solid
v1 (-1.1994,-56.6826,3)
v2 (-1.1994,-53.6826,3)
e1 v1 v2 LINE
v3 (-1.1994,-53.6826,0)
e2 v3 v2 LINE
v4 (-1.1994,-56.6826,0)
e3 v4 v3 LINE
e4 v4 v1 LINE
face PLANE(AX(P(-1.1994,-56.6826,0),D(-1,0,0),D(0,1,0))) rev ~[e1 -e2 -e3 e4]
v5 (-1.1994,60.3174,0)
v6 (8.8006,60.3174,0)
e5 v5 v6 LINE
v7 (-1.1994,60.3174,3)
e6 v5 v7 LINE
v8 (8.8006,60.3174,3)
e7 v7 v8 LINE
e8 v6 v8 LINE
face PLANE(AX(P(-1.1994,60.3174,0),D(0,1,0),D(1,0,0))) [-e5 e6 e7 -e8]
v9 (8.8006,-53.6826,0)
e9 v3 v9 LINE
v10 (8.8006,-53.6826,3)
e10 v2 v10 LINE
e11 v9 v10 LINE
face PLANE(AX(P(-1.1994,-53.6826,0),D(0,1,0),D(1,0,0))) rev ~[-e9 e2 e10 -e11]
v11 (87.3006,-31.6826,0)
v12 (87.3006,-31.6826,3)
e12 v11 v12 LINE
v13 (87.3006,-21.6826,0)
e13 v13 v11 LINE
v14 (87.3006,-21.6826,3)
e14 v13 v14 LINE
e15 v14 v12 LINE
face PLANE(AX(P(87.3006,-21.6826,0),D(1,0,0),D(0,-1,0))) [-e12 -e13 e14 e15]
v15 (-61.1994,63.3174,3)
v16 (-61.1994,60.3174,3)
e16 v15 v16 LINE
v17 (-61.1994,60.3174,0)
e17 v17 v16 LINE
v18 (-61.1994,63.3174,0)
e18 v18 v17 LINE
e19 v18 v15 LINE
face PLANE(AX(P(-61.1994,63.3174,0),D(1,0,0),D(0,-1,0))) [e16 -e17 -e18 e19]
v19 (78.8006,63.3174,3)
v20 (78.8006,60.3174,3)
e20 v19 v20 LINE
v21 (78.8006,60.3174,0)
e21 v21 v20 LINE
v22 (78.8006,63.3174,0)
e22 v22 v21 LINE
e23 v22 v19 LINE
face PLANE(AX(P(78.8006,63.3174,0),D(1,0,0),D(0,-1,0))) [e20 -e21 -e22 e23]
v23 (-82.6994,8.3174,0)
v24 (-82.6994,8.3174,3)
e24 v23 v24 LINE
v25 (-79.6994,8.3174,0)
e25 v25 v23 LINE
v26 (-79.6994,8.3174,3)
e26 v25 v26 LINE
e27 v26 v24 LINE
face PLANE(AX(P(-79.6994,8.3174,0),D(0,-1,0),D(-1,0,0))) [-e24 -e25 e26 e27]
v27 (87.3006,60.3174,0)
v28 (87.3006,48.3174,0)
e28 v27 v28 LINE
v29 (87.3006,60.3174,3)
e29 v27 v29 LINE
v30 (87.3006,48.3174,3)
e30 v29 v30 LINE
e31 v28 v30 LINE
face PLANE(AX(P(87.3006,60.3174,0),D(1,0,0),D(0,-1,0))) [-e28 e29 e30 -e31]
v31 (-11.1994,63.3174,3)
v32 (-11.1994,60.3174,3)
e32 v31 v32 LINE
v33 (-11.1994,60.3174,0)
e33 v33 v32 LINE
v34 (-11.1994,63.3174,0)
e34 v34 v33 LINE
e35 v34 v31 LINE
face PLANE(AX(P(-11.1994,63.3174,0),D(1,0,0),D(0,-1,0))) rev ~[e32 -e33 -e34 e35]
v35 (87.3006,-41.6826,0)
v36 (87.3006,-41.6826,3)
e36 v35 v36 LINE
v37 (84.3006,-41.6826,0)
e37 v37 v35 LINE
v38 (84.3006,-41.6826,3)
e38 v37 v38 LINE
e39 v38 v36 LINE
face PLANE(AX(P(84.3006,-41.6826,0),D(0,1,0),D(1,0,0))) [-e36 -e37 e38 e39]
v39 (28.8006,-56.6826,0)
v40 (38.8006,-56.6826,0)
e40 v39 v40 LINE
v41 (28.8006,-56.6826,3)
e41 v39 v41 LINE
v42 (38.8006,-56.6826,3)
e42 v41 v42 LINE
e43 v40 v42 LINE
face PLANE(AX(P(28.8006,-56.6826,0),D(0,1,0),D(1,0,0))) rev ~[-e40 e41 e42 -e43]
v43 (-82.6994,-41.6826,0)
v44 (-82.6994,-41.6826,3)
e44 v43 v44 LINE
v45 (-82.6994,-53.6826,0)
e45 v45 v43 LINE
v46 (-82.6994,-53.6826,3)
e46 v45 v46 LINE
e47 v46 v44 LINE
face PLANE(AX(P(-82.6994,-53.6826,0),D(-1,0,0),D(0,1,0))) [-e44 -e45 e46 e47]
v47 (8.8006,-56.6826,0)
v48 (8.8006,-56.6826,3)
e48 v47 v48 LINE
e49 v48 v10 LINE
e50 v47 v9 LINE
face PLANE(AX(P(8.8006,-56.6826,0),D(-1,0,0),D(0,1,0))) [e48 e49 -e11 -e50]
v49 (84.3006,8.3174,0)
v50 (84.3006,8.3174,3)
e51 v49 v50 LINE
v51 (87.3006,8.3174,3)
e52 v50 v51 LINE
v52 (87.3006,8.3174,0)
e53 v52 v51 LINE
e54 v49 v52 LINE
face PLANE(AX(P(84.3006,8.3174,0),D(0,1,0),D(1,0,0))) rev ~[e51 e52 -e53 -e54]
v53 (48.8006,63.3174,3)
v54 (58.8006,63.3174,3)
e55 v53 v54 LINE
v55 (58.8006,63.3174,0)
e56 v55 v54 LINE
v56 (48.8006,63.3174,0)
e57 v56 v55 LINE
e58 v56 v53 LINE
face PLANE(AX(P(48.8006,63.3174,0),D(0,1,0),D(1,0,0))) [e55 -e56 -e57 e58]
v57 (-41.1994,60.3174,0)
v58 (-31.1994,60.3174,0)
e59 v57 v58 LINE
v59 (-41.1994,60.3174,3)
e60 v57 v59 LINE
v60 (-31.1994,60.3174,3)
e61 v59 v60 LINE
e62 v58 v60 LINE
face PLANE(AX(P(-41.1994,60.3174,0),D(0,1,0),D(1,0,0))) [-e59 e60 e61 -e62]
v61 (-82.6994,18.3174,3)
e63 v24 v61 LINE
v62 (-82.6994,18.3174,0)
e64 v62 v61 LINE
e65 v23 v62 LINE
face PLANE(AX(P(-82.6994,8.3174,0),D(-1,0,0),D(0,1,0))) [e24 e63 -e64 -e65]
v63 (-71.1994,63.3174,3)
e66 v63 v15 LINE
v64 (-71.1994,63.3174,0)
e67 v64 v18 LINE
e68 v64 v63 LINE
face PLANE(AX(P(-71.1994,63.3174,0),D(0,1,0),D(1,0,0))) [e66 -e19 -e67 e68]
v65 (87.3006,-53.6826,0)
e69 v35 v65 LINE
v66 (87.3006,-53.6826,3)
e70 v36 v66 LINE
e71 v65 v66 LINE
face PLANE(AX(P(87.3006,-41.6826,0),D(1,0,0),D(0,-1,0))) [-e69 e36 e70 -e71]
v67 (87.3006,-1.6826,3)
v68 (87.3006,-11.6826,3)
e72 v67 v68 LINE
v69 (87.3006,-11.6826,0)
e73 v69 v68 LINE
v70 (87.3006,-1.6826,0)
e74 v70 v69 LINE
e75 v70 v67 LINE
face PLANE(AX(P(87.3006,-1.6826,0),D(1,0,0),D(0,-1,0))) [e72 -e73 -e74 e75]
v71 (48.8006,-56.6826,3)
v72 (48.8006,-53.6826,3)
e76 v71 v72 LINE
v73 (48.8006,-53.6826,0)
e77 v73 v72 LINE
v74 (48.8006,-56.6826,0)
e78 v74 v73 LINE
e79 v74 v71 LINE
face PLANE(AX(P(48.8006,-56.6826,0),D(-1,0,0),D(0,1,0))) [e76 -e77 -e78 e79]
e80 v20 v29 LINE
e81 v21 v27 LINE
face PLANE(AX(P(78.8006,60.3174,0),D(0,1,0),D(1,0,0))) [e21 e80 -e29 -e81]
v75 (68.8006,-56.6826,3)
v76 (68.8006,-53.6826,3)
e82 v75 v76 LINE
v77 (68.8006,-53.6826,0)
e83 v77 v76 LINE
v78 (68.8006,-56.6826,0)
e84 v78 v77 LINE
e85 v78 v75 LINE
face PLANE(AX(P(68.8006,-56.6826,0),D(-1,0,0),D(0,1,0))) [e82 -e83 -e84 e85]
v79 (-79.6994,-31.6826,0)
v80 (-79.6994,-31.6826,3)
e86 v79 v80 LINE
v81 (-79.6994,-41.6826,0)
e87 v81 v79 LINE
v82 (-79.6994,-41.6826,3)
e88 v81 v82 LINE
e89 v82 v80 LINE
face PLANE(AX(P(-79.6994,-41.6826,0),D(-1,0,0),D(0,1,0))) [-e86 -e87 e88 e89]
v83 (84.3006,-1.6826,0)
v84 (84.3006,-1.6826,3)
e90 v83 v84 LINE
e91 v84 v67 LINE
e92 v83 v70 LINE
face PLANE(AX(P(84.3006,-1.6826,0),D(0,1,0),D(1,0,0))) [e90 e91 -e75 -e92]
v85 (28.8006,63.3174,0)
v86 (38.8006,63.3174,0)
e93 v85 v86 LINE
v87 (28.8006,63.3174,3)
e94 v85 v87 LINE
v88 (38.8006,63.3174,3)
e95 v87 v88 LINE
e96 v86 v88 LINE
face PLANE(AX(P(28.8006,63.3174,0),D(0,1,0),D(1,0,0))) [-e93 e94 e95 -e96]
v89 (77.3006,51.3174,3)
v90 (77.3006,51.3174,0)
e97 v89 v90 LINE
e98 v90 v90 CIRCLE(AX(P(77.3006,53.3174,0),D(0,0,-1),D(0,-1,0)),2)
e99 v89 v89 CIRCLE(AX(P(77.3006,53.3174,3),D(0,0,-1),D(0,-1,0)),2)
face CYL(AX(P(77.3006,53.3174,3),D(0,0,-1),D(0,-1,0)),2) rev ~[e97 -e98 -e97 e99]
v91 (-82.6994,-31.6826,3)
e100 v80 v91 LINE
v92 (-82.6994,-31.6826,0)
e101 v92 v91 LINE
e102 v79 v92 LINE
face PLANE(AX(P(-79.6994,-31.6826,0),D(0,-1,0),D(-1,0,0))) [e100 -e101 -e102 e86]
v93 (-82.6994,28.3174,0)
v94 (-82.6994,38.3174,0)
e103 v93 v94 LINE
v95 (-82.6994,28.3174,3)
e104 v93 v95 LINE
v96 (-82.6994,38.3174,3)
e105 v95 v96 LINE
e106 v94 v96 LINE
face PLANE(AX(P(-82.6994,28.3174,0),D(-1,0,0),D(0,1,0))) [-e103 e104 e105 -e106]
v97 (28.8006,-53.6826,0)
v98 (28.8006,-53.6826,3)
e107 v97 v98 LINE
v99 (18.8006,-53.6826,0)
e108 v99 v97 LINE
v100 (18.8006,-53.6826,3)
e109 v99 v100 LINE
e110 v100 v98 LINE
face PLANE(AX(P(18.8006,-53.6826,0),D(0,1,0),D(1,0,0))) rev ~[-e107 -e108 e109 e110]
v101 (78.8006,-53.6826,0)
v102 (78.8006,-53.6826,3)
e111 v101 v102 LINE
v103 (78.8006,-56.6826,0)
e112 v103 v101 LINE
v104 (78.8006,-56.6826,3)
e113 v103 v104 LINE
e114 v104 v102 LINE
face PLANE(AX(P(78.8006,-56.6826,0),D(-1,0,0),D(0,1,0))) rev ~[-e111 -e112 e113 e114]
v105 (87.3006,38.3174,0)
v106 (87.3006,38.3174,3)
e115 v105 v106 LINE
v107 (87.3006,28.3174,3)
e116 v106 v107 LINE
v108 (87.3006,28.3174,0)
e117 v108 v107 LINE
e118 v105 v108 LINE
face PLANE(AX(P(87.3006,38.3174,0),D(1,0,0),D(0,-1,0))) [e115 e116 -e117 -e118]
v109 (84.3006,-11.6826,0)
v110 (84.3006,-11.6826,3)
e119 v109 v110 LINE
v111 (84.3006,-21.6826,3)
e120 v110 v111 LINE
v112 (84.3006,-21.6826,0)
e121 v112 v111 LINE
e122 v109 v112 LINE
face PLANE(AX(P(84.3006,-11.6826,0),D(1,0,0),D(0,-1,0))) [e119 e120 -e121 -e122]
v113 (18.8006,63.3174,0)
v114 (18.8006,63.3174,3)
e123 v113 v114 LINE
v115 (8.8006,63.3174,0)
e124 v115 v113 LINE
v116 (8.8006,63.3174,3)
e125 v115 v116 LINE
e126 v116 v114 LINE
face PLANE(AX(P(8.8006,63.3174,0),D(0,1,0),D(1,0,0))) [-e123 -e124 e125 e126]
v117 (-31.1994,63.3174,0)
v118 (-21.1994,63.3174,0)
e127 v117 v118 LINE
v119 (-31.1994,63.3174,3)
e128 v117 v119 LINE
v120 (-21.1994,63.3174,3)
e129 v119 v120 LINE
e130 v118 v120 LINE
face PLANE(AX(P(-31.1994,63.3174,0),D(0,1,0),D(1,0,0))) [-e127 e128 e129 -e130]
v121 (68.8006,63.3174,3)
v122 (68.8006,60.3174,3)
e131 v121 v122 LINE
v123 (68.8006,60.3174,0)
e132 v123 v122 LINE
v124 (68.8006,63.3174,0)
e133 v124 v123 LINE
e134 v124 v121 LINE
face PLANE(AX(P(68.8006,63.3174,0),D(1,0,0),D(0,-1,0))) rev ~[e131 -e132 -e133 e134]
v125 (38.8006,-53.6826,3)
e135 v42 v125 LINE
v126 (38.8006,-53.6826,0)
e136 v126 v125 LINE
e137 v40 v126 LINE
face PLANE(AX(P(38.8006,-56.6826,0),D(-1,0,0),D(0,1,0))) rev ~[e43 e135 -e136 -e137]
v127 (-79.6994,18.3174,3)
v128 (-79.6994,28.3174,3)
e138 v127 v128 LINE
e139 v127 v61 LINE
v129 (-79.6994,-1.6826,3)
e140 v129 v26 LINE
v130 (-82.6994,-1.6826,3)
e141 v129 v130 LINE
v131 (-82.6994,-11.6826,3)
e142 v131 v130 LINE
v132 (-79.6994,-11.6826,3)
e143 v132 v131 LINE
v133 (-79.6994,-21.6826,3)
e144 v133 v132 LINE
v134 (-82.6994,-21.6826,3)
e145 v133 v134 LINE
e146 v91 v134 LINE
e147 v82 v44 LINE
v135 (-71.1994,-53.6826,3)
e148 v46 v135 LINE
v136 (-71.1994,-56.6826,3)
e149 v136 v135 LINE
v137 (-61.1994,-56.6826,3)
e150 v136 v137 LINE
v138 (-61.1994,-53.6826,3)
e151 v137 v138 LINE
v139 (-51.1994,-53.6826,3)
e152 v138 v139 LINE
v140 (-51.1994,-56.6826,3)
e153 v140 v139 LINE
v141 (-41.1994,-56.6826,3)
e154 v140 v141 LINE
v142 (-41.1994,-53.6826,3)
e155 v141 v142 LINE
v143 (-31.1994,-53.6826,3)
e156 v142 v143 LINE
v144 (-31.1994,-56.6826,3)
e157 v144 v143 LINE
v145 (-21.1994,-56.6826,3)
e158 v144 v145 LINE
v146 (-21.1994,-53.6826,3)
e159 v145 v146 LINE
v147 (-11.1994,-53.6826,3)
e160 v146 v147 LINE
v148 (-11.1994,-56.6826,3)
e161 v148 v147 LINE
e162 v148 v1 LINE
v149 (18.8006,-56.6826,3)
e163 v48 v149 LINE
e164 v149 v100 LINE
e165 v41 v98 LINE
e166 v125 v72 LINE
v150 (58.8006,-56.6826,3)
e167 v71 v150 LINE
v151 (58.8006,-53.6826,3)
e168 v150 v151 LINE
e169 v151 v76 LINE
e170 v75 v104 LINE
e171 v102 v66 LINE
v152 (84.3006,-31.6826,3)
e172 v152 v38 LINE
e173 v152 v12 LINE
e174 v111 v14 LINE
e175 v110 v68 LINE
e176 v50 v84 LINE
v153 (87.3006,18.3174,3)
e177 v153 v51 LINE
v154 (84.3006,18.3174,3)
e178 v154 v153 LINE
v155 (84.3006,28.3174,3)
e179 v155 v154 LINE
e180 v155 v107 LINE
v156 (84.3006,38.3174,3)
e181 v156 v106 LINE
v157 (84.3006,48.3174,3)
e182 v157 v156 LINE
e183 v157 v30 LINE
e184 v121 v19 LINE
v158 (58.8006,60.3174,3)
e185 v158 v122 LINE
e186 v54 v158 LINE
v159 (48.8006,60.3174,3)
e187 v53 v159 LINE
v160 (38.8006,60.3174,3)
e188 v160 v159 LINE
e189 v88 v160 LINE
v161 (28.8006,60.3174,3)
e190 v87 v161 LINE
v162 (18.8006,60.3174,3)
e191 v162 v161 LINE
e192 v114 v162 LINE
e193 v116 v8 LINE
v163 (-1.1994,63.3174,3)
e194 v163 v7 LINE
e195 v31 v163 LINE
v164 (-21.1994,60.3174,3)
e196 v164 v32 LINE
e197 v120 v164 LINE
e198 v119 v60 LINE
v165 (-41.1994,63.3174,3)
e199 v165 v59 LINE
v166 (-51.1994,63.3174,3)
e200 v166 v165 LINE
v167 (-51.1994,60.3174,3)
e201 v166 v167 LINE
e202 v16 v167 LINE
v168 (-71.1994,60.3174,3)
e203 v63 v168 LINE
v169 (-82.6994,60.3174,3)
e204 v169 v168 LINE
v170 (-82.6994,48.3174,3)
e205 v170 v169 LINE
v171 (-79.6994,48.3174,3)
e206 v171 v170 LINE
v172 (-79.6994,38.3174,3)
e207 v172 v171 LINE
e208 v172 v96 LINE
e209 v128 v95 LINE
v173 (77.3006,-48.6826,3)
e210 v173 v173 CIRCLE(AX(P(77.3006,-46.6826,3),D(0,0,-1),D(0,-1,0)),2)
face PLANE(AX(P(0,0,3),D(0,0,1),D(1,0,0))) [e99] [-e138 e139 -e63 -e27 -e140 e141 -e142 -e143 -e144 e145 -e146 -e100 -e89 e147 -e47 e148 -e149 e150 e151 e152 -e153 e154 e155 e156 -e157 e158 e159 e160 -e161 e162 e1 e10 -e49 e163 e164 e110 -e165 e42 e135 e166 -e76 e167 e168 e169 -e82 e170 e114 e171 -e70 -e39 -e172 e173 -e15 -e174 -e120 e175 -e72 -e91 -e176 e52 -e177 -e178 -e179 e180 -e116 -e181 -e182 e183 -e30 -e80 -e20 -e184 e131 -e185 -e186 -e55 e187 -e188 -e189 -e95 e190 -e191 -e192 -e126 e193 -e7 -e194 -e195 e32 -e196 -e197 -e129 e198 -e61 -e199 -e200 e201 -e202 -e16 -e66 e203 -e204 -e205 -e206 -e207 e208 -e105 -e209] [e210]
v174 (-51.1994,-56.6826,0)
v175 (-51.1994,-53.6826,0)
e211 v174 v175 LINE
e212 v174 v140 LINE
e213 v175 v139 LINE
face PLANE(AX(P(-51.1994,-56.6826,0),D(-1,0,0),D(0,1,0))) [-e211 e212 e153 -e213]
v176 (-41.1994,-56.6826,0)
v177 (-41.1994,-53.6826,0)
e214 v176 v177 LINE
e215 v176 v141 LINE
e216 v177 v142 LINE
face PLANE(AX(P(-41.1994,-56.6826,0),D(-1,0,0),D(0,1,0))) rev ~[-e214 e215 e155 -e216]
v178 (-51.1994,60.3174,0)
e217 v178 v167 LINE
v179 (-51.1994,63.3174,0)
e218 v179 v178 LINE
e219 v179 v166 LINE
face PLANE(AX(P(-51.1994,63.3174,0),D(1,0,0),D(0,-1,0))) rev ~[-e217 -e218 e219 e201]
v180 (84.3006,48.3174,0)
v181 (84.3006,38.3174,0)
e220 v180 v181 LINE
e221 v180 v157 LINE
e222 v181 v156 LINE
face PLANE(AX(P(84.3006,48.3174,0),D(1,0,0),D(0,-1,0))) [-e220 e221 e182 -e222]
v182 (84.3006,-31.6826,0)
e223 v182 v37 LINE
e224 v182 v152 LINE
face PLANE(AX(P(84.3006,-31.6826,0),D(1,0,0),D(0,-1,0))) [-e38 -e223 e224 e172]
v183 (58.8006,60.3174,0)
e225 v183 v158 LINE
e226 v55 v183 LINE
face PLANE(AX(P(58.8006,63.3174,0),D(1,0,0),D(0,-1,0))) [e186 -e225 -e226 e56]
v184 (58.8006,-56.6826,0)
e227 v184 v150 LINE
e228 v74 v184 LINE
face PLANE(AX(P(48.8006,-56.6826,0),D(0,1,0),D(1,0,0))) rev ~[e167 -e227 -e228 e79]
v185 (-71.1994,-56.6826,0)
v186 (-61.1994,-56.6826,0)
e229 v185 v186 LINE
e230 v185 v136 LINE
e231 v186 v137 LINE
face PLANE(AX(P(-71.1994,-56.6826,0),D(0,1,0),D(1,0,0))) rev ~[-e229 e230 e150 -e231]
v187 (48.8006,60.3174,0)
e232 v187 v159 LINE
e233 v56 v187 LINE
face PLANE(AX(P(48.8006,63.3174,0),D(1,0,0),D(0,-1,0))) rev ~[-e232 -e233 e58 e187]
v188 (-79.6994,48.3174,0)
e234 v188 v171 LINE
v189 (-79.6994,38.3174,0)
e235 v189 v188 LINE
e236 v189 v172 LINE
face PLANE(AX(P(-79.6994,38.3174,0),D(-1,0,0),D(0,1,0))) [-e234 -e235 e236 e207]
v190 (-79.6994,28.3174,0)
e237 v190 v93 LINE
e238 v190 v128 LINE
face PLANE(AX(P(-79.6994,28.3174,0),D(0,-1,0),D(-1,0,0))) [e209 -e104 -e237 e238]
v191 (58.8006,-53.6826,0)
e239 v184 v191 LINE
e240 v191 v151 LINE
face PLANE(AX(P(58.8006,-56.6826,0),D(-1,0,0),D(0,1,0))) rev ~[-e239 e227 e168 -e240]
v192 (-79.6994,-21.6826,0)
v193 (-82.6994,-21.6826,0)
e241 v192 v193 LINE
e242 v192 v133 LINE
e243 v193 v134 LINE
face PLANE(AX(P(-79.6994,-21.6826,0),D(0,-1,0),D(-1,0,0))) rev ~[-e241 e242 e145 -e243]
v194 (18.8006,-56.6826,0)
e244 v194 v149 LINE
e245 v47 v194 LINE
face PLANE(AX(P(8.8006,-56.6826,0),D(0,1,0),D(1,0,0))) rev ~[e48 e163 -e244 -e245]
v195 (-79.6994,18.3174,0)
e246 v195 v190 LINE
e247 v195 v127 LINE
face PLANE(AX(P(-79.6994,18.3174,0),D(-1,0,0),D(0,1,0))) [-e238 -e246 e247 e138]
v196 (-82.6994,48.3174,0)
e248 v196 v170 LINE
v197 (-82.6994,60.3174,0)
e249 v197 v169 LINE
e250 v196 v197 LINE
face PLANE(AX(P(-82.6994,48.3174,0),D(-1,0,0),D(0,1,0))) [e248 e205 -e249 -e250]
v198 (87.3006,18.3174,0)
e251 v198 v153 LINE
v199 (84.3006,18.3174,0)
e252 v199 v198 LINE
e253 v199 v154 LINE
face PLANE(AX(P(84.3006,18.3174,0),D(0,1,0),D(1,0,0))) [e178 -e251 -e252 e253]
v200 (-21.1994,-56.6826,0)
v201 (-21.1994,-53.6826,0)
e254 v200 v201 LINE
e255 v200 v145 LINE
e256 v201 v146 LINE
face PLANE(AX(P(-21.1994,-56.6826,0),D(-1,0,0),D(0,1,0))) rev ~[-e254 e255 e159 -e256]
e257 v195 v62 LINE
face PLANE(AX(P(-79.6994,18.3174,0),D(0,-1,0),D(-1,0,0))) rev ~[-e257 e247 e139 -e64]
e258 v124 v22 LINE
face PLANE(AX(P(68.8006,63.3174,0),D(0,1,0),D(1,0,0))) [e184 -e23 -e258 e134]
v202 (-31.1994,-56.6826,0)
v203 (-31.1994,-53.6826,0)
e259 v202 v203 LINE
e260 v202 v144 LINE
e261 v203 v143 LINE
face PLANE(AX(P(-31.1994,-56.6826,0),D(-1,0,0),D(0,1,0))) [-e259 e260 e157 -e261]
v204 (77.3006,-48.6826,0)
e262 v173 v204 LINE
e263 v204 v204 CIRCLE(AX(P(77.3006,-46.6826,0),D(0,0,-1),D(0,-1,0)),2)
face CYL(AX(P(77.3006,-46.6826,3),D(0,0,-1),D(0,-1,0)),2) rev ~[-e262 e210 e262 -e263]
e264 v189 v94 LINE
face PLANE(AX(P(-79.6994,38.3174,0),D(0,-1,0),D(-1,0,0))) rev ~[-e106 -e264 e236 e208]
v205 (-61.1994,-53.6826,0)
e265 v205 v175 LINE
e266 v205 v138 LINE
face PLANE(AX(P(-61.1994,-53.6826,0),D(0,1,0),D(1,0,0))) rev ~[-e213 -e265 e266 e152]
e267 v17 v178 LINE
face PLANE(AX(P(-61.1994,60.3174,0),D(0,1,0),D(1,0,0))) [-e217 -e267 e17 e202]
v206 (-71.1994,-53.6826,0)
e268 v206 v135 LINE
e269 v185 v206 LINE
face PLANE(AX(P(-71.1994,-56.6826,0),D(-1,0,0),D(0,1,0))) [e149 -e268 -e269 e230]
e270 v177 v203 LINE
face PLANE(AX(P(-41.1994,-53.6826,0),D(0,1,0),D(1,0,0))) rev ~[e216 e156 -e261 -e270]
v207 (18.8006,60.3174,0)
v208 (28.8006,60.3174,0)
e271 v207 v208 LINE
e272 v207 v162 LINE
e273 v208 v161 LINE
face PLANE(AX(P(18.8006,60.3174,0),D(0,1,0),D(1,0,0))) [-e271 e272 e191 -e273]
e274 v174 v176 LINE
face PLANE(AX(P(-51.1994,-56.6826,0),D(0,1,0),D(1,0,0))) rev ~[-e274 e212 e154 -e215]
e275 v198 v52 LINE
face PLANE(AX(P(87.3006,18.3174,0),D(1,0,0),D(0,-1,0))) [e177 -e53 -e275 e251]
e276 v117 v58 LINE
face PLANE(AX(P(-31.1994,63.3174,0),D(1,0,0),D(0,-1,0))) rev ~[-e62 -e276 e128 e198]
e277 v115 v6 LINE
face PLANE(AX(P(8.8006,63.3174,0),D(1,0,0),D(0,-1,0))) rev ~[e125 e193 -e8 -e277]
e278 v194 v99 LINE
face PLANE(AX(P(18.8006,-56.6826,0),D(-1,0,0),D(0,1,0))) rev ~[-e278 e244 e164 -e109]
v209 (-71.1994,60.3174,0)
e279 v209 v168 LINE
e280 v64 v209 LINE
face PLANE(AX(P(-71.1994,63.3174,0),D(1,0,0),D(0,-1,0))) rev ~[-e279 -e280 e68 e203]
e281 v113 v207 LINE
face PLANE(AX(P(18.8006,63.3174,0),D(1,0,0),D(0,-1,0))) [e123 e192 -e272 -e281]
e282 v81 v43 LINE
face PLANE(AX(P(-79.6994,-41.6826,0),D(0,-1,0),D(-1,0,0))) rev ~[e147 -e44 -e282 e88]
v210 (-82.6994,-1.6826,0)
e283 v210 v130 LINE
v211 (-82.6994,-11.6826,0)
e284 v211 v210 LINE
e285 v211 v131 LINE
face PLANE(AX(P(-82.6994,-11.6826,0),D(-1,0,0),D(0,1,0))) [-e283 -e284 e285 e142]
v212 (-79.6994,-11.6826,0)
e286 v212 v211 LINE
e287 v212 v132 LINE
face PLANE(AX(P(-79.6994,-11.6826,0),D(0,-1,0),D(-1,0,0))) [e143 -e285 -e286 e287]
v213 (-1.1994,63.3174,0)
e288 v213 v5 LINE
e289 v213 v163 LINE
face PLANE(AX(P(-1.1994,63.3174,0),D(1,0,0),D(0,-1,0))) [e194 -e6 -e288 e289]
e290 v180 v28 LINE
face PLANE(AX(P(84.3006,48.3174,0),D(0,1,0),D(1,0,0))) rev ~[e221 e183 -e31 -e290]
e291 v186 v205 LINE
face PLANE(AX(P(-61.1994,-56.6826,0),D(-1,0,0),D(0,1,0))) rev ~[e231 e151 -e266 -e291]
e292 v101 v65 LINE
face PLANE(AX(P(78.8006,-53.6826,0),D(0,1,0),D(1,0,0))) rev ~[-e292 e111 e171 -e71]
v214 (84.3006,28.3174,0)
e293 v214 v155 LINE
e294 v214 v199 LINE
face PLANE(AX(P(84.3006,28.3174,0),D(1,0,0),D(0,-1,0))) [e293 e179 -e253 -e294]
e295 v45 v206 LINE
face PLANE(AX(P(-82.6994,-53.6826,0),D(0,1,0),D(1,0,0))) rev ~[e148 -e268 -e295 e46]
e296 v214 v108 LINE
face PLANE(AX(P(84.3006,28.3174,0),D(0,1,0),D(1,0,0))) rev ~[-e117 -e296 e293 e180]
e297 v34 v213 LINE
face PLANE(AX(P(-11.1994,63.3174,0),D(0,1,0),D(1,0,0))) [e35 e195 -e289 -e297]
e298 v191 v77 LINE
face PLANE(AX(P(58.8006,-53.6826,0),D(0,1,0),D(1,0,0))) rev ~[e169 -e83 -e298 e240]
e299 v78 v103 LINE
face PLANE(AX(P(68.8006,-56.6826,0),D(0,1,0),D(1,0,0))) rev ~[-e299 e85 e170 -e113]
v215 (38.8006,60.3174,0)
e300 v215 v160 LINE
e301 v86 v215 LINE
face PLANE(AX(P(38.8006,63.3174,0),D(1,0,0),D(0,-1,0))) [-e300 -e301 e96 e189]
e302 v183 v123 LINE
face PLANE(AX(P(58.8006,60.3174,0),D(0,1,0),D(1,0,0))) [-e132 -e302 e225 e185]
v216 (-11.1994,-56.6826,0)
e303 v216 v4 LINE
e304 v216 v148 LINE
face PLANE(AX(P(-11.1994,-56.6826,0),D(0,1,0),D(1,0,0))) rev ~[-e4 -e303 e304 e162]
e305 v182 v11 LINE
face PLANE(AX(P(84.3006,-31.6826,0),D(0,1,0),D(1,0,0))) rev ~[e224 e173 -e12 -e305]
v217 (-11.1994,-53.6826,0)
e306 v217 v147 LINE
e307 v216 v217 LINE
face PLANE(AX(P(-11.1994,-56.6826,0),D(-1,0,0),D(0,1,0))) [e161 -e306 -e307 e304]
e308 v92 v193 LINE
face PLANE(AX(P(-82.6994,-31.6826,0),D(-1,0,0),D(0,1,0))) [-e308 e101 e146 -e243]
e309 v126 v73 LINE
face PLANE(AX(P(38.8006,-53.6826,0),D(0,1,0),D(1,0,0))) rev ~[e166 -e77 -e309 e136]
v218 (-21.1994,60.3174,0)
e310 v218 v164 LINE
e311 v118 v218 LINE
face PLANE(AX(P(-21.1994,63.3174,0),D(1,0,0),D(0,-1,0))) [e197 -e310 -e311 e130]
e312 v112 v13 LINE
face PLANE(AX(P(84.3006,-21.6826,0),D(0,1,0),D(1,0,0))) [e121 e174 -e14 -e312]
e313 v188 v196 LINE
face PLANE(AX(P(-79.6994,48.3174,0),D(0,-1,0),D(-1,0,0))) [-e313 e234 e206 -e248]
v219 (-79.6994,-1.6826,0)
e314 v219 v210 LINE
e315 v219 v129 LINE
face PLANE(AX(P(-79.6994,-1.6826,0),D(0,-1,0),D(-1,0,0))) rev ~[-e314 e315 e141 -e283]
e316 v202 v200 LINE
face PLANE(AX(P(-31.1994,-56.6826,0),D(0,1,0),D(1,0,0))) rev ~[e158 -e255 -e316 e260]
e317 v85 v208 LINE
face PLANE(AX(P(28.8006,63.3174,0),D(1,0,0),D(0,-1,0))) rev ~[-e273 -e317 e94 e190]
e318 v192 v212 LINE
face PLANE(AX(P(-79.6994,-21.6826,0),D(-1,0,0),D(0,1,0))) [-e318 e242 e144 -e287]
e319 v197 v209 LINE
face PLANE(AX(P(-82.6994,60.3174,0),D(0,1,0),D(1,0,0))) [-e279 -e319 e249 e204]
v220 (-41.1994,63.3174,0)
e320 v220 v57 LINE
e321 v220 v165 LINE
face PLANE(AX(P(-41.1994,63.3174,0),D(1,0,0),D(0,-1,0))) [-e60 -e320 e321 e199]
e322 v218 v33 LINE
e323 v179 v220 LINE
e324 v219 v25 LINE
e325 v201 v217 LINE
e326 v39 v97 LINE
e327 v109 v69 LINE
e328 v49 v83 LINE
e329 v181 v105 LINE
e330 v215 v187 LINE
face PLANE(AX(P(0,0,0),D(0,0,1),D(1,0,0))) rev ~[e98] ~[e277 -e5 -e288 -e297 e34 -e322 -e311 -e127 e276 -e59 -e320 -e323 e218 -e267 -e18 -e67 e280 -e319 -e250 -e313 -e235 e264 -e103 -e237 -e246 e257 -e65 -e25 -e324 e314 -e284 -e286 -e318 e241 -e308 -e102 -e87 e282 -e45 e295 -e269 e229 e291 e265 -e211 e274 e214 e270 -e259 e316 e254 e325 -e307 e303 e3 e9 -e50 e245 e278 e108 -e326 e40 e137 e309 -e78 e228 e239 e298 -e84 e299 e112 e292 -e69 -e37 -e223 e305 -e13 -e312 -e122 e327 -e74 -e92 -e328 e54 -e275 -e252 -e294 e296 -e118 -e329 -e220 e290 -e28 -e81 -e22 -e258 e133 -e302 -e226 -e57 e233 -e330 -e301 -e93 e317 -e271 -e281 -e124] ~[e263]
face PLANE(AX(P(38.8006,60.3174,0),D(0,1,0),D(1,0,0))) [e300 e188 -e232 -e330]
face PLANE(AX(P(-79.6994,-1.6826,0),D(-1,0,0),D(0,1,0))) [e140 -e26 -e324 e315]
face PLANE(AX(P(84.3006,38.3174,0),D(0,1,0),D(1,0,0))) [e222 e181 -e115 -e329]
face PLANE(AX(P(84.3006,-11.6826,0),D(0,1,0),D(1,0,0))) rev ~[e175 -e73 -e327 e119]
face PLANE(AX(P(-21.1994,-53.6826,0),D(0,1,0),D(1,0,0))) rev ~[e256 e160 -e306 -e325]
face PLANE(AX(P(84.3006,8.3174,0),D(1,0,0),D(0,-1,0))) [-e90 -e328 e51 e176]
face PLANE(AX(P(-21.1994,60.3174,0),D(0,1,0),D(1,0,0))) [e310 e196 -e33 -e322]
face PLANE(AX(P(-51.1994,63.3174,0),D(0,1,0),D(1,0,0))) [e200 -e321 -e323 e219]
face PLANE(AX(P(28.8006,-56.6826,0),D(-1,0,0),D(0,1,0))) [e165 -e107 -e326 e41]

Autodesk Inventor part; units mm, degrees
ref_plane "YZ Plane" through (0, 0, 0) normal (1, 0, 0) x (0, 1, 0)
ref_plane "XZ Plane" through (0, 0, 0) normal (0, 1, 0) x (-1, 0, 0)
ref_plane "XY Plane" through (0, 0, 0) normal (0, 0, 1) x (1, 0, 0)
sketch "Esquisse1" plane through (0, 0, 0) normal (0, 0, 1) x (1, 0, 0)
  line L0 (87.3006, 60.3174) -> (87.3006, 48.3174)
  line L1 (87.3006, 38.3174) -> (87.3006, 28.3174)
  line L2 (84.3006, 48.3174) -> (84.3006, 38.3174)
  line L3 (84.3006, 48.3174) -> (87.3006, 48.3174)
  line L4 (84.3006, 38.3174) -> (87.3006, 38.3174)
  line L5 (84.3006, 28.3174) -> (84.3006, 18.3174)
  line L6 (84.3006, 28.3174) -> (87.3006, 28.3174)
  line L7 (78.8006, 60.3174) -> (87.3006, 60.3174)
  line L8 (68.8006, 63.3174) -> (78.8006, 63.3174)
  line L9 (78.8006, 63.3174) -> (78.8006, 60.3174)
  line L10 (58.8006, 60.3174) -> (68.8006, 60.3174)
  line L11 (68.8006, 63.3174) -> (68.8006, 60.3174)
  line L12 (48.8006, 63.3174) -> (58.8006, 63.3174)
  line L13 (58.8006, 63.3174) -> (58.8006, 60.3174)
  line L14 (48.8006, 63.3174) -> (48.8006, 60.3174)
  line L15 (38.8006, 63.3174) -> (38.8006, 60.3174)
  line L16 (18.8006, 60.3174) -> (28.8006, 60.3174)
  line L17 (28.8006, 63.3174) -> (38.8006, 63.3174)
  line L18 (28.8006, 63.3174) -> (28.8006, 60.3174)
  line L19 (38.8006, 60.3174) -> (48.8006, 60.3174)
  line L20 (87.3006, 18.3174) -> (87.3006, 8.3174)
  line L21 (87.3006, -21.6826) -> (87.3006, -31.6826)
  line L22 (87.3006, -1.6826) -> (87.3006, -11.6826)
  line L23 (87.3006, -41.6826) -> (87.3006, -53.6826)
  line L24 (84.3006, -31.6826) -> (84.3006, -41.6826)
  line L25 (84.3006, -31.6826) -> (87.3006, -31.6826)
  line L26 (48.8006, -56.6826) -> (58.8006, -56.6826)
  line L27 (58.8006, -56.6826) -> (58.8006, -53.6826)
  line L28 (58.8006, -53.6826) -> (68.8006, -53.6826)
  line L29 (68.8006, -56.6826) -> (68.8006, -53.6826)
  line L30 (68.8006, -56.6826) -> (78.8006, -56.6826)
  line L31 (78.8006, -56.6826) -> (78.8006, -53.6826)
  line L32 (78.8006, -53.6826) -> (87.3006, -53.6826)
  line L33 (84.3006, -41.6826) -> (87.3006, -41.6826)
  line L34 (84.3006, -21.6826) -> (87.3006, -21.6826)
  line L35 (84.3006, -11.6826) -> (84.3006, -21.6826)
  line L36 (84.3006, -11.6826) -> (87.3006, -11.6826)
  line L37 (84.3006, 8.3174) -> (84.3006, -1.6826)
  line L38 (84.3006, 8.3174) -> (87.3006, 8.3174)
  line L39 (84.3006, 18.3174) -> (87.3006, 18.3174)
  line L40 (84.3006, -1.6826) -> (87.3006, -1.6826)
  line L41 (-1.1994, 60.3174) -> (8.8006, 60.3174)
  line L42 (-21.1994, 60.3174) -> (-11.1994, 60.3174)
  line L43 (-11.1994, 63.3174) -> (-11.1994, 60.3174)
  line L44 (-11.1994, 63.3174) -> (-1.1994, 63.3174)
  line L45 (-1.1994, 63.3174) -> (-1.1994, 60.3174)
  line L46 (8.8006, 63.3174) -> (8.8006, 60.3174)
  line L47 (18.8006, 63.3174) -> (18.8006, 60.3174)
  line L48 (8.8006, 63.3174) -> (18.8006, 63.3174)
  line L49 (38.8006, -56.6826) -> (38.8006, -53.6826)
  line L50 (38.8006, -53.6826) -> (48.8006, -53.6826)
  line L51 (28.8006, -56.6826) -> (28.8006, -53.6826)
  line L52 (28.8006, -56.6826) -> (38.8006, -56.6826)
  line L53 (18.8006, -53.6826) -> (28.8006, -53.6826)
  line L54 (18.8006, -56.6826) -> (18.8006, -53.6826)
  line L55 (8.8006, -56.6826) -> (8.8006, -53.6826)
  line L56 (8.8006, -56.6826) -> (18.8006, -56.6826)
  line L57 (-1.1994, -53.6826) -> (8.8006, -53.6826)
  line L58 (-1.1994, -56.6826) -> (-1.1994, -53.6826)
  line L59 (-11.1994, -56.6826) -> (-11.1994, -53.6826)
  line L60 (-11.1994, -56.6826) -> (-1.1994, -56.6826)
  line L61 (-21.1994, -53.6826) -> (-11.1994, -53.6826)
  line L62 (-21.1994, -56.6826) -> (-21.1994, -53.6826)
  line L63 (-31.1994, -56.6826) -> (-31.1994, -53.6826)
  line L64 (-31.1994, -56.6826) -> (-21.1994, -56.6826)
  line L65 (-41.1994, -53.6826) -> (-31.1994, -53.6826)
  line L66 (48.8006, -56.6826) -> (48.8006, -53.6826)
  line L67 (-82.6994, 28.3174) -> (-82.6994, 38.3174)
  line L68 (-82.6994, 48.3174) -> (-82.6994, 60.3174)
  line L69 (-79.6994, 38.3174) -> (-79.6994, 48.3174)
  line L70 (-79.6994, 48.3174) -> (-82.6994, 48.3174)
  line L71 (-79.6994, 38.3174) -> (-82.6994, 38.3174)
  line L72 (-79.6994, 18.3174) -> (-79.6994, 28.3174)
  line L73 (-79.6994, 28.3174) -> (-82.6994, 28.3174)
  line L74 (-41.1994, 60.3174) -> (-31.1994, 60.3174)
  line L75 (-21.1994, 63.3174) -> (-21.1994, 60.3174)
  line L76 (-31.1994, 63.3174) -> (-31.1994, 60.3174)
  line L77 (-41.1994, 63.3174) -> (-41.1994, 60.3174)
  line L78 (-51.1994, 63.3174) -> (-41.1994, 63.3174)
  line L79 (-51.1994, 63.3174) -> (-51.1994, 60.3174)
  line L80 (-61.1994, 60.3174) -> (-51.1994, 60.3174)
  line L81 (-61.1994, 63.3174) -> (-61.1994, 60.3174)
  line L82 (-71.1994, 63.3174) -> (-61.1994, 63.3174)
  line L83 (-71.1994, 63.3174) -> (-71.1994, 60.3174)
  line L84 (-82.6994, 60.3174) -> (-71.1994, 60.3174)
  line L85 (-31.1994, 63.3174) -> (-21.1994, 63.3174)
  line L86 (-82.6994, 8.3174) -> (-82.6994, 18.3174)
  line L87 (-82.6994, -53.6826) -> (-82.6994, -41.6826)
  line L88 (-82.6994, -31.6826) -> (-82.6994, -21.6826)
  line L89 (-82.6994, -11.6826) -> (-82.6994, -1.6826)
  line L90 (-79.6994, 18.3174) -> (-82.6994, 18.3174)
  line L91 (-79.6994, -41.6826) -> (-79.6994, -31.6826)
  line L92 (-79.6994, -31.6826) -> (-82.6994, -31.6826)
  line L93 (-79.6994, -41.6826) -> (-82.6994, -41.6826)
  line L94 (-79.6994, -21.6826) -> (-79.6994, -11.6826)
  line L95 (-79.6994, -11.6826) -> (-82.6994, -11.6826)
  line L96 (-79.6994, -1.6826) -> (-79.6994, 8.3174)
  line L97 (-79.6994, -21.6826) -> (-82.6994, -21.6826)
  line L98 (-79.6994, 8.3174) -> (-82.6994, 8.3174)
  line L99 (-79.6994, -1.6826) -> (-82.6994, -1.6826)
  line L100 (-41.1994, -56.6826) -> (-41.1994, -53.6826)
  line L101 (-51.1994, -56.6826) -> (-41.1994, -56.6826)
  line L102 (-51.1994, -56.6826) -> (-51.1994, -53.6826)
  line L103 (-61.1994, -53.6826) -> (-51.1994, -53.6826)
  line L104 (-71.1994, -56.6826) -> (-61.1994, -56.6826)
  line L105 (-71.1994, -56.6826) -> (-71.1994, -53.6826)
  line L106 (-82.6994, -53.6826) -> (-71.1994, -53.6826)
  line L107 (-61.1994, -56.6826) -> (-61.1994, -53.6826)
  point P0 (0, 0)
extrude "Extrusion1" add sketch "Esquisse1" along normal blind 3
hole "Perçage1" at (77.3006, 53.3174, 3) direction (0, 0, -1) diameter 4 end through all
hole "Perçage2" at (77.3006, -46.6826, 3) direction (0, 0, -1) diameter 4 end through all
properties part number "fond"
